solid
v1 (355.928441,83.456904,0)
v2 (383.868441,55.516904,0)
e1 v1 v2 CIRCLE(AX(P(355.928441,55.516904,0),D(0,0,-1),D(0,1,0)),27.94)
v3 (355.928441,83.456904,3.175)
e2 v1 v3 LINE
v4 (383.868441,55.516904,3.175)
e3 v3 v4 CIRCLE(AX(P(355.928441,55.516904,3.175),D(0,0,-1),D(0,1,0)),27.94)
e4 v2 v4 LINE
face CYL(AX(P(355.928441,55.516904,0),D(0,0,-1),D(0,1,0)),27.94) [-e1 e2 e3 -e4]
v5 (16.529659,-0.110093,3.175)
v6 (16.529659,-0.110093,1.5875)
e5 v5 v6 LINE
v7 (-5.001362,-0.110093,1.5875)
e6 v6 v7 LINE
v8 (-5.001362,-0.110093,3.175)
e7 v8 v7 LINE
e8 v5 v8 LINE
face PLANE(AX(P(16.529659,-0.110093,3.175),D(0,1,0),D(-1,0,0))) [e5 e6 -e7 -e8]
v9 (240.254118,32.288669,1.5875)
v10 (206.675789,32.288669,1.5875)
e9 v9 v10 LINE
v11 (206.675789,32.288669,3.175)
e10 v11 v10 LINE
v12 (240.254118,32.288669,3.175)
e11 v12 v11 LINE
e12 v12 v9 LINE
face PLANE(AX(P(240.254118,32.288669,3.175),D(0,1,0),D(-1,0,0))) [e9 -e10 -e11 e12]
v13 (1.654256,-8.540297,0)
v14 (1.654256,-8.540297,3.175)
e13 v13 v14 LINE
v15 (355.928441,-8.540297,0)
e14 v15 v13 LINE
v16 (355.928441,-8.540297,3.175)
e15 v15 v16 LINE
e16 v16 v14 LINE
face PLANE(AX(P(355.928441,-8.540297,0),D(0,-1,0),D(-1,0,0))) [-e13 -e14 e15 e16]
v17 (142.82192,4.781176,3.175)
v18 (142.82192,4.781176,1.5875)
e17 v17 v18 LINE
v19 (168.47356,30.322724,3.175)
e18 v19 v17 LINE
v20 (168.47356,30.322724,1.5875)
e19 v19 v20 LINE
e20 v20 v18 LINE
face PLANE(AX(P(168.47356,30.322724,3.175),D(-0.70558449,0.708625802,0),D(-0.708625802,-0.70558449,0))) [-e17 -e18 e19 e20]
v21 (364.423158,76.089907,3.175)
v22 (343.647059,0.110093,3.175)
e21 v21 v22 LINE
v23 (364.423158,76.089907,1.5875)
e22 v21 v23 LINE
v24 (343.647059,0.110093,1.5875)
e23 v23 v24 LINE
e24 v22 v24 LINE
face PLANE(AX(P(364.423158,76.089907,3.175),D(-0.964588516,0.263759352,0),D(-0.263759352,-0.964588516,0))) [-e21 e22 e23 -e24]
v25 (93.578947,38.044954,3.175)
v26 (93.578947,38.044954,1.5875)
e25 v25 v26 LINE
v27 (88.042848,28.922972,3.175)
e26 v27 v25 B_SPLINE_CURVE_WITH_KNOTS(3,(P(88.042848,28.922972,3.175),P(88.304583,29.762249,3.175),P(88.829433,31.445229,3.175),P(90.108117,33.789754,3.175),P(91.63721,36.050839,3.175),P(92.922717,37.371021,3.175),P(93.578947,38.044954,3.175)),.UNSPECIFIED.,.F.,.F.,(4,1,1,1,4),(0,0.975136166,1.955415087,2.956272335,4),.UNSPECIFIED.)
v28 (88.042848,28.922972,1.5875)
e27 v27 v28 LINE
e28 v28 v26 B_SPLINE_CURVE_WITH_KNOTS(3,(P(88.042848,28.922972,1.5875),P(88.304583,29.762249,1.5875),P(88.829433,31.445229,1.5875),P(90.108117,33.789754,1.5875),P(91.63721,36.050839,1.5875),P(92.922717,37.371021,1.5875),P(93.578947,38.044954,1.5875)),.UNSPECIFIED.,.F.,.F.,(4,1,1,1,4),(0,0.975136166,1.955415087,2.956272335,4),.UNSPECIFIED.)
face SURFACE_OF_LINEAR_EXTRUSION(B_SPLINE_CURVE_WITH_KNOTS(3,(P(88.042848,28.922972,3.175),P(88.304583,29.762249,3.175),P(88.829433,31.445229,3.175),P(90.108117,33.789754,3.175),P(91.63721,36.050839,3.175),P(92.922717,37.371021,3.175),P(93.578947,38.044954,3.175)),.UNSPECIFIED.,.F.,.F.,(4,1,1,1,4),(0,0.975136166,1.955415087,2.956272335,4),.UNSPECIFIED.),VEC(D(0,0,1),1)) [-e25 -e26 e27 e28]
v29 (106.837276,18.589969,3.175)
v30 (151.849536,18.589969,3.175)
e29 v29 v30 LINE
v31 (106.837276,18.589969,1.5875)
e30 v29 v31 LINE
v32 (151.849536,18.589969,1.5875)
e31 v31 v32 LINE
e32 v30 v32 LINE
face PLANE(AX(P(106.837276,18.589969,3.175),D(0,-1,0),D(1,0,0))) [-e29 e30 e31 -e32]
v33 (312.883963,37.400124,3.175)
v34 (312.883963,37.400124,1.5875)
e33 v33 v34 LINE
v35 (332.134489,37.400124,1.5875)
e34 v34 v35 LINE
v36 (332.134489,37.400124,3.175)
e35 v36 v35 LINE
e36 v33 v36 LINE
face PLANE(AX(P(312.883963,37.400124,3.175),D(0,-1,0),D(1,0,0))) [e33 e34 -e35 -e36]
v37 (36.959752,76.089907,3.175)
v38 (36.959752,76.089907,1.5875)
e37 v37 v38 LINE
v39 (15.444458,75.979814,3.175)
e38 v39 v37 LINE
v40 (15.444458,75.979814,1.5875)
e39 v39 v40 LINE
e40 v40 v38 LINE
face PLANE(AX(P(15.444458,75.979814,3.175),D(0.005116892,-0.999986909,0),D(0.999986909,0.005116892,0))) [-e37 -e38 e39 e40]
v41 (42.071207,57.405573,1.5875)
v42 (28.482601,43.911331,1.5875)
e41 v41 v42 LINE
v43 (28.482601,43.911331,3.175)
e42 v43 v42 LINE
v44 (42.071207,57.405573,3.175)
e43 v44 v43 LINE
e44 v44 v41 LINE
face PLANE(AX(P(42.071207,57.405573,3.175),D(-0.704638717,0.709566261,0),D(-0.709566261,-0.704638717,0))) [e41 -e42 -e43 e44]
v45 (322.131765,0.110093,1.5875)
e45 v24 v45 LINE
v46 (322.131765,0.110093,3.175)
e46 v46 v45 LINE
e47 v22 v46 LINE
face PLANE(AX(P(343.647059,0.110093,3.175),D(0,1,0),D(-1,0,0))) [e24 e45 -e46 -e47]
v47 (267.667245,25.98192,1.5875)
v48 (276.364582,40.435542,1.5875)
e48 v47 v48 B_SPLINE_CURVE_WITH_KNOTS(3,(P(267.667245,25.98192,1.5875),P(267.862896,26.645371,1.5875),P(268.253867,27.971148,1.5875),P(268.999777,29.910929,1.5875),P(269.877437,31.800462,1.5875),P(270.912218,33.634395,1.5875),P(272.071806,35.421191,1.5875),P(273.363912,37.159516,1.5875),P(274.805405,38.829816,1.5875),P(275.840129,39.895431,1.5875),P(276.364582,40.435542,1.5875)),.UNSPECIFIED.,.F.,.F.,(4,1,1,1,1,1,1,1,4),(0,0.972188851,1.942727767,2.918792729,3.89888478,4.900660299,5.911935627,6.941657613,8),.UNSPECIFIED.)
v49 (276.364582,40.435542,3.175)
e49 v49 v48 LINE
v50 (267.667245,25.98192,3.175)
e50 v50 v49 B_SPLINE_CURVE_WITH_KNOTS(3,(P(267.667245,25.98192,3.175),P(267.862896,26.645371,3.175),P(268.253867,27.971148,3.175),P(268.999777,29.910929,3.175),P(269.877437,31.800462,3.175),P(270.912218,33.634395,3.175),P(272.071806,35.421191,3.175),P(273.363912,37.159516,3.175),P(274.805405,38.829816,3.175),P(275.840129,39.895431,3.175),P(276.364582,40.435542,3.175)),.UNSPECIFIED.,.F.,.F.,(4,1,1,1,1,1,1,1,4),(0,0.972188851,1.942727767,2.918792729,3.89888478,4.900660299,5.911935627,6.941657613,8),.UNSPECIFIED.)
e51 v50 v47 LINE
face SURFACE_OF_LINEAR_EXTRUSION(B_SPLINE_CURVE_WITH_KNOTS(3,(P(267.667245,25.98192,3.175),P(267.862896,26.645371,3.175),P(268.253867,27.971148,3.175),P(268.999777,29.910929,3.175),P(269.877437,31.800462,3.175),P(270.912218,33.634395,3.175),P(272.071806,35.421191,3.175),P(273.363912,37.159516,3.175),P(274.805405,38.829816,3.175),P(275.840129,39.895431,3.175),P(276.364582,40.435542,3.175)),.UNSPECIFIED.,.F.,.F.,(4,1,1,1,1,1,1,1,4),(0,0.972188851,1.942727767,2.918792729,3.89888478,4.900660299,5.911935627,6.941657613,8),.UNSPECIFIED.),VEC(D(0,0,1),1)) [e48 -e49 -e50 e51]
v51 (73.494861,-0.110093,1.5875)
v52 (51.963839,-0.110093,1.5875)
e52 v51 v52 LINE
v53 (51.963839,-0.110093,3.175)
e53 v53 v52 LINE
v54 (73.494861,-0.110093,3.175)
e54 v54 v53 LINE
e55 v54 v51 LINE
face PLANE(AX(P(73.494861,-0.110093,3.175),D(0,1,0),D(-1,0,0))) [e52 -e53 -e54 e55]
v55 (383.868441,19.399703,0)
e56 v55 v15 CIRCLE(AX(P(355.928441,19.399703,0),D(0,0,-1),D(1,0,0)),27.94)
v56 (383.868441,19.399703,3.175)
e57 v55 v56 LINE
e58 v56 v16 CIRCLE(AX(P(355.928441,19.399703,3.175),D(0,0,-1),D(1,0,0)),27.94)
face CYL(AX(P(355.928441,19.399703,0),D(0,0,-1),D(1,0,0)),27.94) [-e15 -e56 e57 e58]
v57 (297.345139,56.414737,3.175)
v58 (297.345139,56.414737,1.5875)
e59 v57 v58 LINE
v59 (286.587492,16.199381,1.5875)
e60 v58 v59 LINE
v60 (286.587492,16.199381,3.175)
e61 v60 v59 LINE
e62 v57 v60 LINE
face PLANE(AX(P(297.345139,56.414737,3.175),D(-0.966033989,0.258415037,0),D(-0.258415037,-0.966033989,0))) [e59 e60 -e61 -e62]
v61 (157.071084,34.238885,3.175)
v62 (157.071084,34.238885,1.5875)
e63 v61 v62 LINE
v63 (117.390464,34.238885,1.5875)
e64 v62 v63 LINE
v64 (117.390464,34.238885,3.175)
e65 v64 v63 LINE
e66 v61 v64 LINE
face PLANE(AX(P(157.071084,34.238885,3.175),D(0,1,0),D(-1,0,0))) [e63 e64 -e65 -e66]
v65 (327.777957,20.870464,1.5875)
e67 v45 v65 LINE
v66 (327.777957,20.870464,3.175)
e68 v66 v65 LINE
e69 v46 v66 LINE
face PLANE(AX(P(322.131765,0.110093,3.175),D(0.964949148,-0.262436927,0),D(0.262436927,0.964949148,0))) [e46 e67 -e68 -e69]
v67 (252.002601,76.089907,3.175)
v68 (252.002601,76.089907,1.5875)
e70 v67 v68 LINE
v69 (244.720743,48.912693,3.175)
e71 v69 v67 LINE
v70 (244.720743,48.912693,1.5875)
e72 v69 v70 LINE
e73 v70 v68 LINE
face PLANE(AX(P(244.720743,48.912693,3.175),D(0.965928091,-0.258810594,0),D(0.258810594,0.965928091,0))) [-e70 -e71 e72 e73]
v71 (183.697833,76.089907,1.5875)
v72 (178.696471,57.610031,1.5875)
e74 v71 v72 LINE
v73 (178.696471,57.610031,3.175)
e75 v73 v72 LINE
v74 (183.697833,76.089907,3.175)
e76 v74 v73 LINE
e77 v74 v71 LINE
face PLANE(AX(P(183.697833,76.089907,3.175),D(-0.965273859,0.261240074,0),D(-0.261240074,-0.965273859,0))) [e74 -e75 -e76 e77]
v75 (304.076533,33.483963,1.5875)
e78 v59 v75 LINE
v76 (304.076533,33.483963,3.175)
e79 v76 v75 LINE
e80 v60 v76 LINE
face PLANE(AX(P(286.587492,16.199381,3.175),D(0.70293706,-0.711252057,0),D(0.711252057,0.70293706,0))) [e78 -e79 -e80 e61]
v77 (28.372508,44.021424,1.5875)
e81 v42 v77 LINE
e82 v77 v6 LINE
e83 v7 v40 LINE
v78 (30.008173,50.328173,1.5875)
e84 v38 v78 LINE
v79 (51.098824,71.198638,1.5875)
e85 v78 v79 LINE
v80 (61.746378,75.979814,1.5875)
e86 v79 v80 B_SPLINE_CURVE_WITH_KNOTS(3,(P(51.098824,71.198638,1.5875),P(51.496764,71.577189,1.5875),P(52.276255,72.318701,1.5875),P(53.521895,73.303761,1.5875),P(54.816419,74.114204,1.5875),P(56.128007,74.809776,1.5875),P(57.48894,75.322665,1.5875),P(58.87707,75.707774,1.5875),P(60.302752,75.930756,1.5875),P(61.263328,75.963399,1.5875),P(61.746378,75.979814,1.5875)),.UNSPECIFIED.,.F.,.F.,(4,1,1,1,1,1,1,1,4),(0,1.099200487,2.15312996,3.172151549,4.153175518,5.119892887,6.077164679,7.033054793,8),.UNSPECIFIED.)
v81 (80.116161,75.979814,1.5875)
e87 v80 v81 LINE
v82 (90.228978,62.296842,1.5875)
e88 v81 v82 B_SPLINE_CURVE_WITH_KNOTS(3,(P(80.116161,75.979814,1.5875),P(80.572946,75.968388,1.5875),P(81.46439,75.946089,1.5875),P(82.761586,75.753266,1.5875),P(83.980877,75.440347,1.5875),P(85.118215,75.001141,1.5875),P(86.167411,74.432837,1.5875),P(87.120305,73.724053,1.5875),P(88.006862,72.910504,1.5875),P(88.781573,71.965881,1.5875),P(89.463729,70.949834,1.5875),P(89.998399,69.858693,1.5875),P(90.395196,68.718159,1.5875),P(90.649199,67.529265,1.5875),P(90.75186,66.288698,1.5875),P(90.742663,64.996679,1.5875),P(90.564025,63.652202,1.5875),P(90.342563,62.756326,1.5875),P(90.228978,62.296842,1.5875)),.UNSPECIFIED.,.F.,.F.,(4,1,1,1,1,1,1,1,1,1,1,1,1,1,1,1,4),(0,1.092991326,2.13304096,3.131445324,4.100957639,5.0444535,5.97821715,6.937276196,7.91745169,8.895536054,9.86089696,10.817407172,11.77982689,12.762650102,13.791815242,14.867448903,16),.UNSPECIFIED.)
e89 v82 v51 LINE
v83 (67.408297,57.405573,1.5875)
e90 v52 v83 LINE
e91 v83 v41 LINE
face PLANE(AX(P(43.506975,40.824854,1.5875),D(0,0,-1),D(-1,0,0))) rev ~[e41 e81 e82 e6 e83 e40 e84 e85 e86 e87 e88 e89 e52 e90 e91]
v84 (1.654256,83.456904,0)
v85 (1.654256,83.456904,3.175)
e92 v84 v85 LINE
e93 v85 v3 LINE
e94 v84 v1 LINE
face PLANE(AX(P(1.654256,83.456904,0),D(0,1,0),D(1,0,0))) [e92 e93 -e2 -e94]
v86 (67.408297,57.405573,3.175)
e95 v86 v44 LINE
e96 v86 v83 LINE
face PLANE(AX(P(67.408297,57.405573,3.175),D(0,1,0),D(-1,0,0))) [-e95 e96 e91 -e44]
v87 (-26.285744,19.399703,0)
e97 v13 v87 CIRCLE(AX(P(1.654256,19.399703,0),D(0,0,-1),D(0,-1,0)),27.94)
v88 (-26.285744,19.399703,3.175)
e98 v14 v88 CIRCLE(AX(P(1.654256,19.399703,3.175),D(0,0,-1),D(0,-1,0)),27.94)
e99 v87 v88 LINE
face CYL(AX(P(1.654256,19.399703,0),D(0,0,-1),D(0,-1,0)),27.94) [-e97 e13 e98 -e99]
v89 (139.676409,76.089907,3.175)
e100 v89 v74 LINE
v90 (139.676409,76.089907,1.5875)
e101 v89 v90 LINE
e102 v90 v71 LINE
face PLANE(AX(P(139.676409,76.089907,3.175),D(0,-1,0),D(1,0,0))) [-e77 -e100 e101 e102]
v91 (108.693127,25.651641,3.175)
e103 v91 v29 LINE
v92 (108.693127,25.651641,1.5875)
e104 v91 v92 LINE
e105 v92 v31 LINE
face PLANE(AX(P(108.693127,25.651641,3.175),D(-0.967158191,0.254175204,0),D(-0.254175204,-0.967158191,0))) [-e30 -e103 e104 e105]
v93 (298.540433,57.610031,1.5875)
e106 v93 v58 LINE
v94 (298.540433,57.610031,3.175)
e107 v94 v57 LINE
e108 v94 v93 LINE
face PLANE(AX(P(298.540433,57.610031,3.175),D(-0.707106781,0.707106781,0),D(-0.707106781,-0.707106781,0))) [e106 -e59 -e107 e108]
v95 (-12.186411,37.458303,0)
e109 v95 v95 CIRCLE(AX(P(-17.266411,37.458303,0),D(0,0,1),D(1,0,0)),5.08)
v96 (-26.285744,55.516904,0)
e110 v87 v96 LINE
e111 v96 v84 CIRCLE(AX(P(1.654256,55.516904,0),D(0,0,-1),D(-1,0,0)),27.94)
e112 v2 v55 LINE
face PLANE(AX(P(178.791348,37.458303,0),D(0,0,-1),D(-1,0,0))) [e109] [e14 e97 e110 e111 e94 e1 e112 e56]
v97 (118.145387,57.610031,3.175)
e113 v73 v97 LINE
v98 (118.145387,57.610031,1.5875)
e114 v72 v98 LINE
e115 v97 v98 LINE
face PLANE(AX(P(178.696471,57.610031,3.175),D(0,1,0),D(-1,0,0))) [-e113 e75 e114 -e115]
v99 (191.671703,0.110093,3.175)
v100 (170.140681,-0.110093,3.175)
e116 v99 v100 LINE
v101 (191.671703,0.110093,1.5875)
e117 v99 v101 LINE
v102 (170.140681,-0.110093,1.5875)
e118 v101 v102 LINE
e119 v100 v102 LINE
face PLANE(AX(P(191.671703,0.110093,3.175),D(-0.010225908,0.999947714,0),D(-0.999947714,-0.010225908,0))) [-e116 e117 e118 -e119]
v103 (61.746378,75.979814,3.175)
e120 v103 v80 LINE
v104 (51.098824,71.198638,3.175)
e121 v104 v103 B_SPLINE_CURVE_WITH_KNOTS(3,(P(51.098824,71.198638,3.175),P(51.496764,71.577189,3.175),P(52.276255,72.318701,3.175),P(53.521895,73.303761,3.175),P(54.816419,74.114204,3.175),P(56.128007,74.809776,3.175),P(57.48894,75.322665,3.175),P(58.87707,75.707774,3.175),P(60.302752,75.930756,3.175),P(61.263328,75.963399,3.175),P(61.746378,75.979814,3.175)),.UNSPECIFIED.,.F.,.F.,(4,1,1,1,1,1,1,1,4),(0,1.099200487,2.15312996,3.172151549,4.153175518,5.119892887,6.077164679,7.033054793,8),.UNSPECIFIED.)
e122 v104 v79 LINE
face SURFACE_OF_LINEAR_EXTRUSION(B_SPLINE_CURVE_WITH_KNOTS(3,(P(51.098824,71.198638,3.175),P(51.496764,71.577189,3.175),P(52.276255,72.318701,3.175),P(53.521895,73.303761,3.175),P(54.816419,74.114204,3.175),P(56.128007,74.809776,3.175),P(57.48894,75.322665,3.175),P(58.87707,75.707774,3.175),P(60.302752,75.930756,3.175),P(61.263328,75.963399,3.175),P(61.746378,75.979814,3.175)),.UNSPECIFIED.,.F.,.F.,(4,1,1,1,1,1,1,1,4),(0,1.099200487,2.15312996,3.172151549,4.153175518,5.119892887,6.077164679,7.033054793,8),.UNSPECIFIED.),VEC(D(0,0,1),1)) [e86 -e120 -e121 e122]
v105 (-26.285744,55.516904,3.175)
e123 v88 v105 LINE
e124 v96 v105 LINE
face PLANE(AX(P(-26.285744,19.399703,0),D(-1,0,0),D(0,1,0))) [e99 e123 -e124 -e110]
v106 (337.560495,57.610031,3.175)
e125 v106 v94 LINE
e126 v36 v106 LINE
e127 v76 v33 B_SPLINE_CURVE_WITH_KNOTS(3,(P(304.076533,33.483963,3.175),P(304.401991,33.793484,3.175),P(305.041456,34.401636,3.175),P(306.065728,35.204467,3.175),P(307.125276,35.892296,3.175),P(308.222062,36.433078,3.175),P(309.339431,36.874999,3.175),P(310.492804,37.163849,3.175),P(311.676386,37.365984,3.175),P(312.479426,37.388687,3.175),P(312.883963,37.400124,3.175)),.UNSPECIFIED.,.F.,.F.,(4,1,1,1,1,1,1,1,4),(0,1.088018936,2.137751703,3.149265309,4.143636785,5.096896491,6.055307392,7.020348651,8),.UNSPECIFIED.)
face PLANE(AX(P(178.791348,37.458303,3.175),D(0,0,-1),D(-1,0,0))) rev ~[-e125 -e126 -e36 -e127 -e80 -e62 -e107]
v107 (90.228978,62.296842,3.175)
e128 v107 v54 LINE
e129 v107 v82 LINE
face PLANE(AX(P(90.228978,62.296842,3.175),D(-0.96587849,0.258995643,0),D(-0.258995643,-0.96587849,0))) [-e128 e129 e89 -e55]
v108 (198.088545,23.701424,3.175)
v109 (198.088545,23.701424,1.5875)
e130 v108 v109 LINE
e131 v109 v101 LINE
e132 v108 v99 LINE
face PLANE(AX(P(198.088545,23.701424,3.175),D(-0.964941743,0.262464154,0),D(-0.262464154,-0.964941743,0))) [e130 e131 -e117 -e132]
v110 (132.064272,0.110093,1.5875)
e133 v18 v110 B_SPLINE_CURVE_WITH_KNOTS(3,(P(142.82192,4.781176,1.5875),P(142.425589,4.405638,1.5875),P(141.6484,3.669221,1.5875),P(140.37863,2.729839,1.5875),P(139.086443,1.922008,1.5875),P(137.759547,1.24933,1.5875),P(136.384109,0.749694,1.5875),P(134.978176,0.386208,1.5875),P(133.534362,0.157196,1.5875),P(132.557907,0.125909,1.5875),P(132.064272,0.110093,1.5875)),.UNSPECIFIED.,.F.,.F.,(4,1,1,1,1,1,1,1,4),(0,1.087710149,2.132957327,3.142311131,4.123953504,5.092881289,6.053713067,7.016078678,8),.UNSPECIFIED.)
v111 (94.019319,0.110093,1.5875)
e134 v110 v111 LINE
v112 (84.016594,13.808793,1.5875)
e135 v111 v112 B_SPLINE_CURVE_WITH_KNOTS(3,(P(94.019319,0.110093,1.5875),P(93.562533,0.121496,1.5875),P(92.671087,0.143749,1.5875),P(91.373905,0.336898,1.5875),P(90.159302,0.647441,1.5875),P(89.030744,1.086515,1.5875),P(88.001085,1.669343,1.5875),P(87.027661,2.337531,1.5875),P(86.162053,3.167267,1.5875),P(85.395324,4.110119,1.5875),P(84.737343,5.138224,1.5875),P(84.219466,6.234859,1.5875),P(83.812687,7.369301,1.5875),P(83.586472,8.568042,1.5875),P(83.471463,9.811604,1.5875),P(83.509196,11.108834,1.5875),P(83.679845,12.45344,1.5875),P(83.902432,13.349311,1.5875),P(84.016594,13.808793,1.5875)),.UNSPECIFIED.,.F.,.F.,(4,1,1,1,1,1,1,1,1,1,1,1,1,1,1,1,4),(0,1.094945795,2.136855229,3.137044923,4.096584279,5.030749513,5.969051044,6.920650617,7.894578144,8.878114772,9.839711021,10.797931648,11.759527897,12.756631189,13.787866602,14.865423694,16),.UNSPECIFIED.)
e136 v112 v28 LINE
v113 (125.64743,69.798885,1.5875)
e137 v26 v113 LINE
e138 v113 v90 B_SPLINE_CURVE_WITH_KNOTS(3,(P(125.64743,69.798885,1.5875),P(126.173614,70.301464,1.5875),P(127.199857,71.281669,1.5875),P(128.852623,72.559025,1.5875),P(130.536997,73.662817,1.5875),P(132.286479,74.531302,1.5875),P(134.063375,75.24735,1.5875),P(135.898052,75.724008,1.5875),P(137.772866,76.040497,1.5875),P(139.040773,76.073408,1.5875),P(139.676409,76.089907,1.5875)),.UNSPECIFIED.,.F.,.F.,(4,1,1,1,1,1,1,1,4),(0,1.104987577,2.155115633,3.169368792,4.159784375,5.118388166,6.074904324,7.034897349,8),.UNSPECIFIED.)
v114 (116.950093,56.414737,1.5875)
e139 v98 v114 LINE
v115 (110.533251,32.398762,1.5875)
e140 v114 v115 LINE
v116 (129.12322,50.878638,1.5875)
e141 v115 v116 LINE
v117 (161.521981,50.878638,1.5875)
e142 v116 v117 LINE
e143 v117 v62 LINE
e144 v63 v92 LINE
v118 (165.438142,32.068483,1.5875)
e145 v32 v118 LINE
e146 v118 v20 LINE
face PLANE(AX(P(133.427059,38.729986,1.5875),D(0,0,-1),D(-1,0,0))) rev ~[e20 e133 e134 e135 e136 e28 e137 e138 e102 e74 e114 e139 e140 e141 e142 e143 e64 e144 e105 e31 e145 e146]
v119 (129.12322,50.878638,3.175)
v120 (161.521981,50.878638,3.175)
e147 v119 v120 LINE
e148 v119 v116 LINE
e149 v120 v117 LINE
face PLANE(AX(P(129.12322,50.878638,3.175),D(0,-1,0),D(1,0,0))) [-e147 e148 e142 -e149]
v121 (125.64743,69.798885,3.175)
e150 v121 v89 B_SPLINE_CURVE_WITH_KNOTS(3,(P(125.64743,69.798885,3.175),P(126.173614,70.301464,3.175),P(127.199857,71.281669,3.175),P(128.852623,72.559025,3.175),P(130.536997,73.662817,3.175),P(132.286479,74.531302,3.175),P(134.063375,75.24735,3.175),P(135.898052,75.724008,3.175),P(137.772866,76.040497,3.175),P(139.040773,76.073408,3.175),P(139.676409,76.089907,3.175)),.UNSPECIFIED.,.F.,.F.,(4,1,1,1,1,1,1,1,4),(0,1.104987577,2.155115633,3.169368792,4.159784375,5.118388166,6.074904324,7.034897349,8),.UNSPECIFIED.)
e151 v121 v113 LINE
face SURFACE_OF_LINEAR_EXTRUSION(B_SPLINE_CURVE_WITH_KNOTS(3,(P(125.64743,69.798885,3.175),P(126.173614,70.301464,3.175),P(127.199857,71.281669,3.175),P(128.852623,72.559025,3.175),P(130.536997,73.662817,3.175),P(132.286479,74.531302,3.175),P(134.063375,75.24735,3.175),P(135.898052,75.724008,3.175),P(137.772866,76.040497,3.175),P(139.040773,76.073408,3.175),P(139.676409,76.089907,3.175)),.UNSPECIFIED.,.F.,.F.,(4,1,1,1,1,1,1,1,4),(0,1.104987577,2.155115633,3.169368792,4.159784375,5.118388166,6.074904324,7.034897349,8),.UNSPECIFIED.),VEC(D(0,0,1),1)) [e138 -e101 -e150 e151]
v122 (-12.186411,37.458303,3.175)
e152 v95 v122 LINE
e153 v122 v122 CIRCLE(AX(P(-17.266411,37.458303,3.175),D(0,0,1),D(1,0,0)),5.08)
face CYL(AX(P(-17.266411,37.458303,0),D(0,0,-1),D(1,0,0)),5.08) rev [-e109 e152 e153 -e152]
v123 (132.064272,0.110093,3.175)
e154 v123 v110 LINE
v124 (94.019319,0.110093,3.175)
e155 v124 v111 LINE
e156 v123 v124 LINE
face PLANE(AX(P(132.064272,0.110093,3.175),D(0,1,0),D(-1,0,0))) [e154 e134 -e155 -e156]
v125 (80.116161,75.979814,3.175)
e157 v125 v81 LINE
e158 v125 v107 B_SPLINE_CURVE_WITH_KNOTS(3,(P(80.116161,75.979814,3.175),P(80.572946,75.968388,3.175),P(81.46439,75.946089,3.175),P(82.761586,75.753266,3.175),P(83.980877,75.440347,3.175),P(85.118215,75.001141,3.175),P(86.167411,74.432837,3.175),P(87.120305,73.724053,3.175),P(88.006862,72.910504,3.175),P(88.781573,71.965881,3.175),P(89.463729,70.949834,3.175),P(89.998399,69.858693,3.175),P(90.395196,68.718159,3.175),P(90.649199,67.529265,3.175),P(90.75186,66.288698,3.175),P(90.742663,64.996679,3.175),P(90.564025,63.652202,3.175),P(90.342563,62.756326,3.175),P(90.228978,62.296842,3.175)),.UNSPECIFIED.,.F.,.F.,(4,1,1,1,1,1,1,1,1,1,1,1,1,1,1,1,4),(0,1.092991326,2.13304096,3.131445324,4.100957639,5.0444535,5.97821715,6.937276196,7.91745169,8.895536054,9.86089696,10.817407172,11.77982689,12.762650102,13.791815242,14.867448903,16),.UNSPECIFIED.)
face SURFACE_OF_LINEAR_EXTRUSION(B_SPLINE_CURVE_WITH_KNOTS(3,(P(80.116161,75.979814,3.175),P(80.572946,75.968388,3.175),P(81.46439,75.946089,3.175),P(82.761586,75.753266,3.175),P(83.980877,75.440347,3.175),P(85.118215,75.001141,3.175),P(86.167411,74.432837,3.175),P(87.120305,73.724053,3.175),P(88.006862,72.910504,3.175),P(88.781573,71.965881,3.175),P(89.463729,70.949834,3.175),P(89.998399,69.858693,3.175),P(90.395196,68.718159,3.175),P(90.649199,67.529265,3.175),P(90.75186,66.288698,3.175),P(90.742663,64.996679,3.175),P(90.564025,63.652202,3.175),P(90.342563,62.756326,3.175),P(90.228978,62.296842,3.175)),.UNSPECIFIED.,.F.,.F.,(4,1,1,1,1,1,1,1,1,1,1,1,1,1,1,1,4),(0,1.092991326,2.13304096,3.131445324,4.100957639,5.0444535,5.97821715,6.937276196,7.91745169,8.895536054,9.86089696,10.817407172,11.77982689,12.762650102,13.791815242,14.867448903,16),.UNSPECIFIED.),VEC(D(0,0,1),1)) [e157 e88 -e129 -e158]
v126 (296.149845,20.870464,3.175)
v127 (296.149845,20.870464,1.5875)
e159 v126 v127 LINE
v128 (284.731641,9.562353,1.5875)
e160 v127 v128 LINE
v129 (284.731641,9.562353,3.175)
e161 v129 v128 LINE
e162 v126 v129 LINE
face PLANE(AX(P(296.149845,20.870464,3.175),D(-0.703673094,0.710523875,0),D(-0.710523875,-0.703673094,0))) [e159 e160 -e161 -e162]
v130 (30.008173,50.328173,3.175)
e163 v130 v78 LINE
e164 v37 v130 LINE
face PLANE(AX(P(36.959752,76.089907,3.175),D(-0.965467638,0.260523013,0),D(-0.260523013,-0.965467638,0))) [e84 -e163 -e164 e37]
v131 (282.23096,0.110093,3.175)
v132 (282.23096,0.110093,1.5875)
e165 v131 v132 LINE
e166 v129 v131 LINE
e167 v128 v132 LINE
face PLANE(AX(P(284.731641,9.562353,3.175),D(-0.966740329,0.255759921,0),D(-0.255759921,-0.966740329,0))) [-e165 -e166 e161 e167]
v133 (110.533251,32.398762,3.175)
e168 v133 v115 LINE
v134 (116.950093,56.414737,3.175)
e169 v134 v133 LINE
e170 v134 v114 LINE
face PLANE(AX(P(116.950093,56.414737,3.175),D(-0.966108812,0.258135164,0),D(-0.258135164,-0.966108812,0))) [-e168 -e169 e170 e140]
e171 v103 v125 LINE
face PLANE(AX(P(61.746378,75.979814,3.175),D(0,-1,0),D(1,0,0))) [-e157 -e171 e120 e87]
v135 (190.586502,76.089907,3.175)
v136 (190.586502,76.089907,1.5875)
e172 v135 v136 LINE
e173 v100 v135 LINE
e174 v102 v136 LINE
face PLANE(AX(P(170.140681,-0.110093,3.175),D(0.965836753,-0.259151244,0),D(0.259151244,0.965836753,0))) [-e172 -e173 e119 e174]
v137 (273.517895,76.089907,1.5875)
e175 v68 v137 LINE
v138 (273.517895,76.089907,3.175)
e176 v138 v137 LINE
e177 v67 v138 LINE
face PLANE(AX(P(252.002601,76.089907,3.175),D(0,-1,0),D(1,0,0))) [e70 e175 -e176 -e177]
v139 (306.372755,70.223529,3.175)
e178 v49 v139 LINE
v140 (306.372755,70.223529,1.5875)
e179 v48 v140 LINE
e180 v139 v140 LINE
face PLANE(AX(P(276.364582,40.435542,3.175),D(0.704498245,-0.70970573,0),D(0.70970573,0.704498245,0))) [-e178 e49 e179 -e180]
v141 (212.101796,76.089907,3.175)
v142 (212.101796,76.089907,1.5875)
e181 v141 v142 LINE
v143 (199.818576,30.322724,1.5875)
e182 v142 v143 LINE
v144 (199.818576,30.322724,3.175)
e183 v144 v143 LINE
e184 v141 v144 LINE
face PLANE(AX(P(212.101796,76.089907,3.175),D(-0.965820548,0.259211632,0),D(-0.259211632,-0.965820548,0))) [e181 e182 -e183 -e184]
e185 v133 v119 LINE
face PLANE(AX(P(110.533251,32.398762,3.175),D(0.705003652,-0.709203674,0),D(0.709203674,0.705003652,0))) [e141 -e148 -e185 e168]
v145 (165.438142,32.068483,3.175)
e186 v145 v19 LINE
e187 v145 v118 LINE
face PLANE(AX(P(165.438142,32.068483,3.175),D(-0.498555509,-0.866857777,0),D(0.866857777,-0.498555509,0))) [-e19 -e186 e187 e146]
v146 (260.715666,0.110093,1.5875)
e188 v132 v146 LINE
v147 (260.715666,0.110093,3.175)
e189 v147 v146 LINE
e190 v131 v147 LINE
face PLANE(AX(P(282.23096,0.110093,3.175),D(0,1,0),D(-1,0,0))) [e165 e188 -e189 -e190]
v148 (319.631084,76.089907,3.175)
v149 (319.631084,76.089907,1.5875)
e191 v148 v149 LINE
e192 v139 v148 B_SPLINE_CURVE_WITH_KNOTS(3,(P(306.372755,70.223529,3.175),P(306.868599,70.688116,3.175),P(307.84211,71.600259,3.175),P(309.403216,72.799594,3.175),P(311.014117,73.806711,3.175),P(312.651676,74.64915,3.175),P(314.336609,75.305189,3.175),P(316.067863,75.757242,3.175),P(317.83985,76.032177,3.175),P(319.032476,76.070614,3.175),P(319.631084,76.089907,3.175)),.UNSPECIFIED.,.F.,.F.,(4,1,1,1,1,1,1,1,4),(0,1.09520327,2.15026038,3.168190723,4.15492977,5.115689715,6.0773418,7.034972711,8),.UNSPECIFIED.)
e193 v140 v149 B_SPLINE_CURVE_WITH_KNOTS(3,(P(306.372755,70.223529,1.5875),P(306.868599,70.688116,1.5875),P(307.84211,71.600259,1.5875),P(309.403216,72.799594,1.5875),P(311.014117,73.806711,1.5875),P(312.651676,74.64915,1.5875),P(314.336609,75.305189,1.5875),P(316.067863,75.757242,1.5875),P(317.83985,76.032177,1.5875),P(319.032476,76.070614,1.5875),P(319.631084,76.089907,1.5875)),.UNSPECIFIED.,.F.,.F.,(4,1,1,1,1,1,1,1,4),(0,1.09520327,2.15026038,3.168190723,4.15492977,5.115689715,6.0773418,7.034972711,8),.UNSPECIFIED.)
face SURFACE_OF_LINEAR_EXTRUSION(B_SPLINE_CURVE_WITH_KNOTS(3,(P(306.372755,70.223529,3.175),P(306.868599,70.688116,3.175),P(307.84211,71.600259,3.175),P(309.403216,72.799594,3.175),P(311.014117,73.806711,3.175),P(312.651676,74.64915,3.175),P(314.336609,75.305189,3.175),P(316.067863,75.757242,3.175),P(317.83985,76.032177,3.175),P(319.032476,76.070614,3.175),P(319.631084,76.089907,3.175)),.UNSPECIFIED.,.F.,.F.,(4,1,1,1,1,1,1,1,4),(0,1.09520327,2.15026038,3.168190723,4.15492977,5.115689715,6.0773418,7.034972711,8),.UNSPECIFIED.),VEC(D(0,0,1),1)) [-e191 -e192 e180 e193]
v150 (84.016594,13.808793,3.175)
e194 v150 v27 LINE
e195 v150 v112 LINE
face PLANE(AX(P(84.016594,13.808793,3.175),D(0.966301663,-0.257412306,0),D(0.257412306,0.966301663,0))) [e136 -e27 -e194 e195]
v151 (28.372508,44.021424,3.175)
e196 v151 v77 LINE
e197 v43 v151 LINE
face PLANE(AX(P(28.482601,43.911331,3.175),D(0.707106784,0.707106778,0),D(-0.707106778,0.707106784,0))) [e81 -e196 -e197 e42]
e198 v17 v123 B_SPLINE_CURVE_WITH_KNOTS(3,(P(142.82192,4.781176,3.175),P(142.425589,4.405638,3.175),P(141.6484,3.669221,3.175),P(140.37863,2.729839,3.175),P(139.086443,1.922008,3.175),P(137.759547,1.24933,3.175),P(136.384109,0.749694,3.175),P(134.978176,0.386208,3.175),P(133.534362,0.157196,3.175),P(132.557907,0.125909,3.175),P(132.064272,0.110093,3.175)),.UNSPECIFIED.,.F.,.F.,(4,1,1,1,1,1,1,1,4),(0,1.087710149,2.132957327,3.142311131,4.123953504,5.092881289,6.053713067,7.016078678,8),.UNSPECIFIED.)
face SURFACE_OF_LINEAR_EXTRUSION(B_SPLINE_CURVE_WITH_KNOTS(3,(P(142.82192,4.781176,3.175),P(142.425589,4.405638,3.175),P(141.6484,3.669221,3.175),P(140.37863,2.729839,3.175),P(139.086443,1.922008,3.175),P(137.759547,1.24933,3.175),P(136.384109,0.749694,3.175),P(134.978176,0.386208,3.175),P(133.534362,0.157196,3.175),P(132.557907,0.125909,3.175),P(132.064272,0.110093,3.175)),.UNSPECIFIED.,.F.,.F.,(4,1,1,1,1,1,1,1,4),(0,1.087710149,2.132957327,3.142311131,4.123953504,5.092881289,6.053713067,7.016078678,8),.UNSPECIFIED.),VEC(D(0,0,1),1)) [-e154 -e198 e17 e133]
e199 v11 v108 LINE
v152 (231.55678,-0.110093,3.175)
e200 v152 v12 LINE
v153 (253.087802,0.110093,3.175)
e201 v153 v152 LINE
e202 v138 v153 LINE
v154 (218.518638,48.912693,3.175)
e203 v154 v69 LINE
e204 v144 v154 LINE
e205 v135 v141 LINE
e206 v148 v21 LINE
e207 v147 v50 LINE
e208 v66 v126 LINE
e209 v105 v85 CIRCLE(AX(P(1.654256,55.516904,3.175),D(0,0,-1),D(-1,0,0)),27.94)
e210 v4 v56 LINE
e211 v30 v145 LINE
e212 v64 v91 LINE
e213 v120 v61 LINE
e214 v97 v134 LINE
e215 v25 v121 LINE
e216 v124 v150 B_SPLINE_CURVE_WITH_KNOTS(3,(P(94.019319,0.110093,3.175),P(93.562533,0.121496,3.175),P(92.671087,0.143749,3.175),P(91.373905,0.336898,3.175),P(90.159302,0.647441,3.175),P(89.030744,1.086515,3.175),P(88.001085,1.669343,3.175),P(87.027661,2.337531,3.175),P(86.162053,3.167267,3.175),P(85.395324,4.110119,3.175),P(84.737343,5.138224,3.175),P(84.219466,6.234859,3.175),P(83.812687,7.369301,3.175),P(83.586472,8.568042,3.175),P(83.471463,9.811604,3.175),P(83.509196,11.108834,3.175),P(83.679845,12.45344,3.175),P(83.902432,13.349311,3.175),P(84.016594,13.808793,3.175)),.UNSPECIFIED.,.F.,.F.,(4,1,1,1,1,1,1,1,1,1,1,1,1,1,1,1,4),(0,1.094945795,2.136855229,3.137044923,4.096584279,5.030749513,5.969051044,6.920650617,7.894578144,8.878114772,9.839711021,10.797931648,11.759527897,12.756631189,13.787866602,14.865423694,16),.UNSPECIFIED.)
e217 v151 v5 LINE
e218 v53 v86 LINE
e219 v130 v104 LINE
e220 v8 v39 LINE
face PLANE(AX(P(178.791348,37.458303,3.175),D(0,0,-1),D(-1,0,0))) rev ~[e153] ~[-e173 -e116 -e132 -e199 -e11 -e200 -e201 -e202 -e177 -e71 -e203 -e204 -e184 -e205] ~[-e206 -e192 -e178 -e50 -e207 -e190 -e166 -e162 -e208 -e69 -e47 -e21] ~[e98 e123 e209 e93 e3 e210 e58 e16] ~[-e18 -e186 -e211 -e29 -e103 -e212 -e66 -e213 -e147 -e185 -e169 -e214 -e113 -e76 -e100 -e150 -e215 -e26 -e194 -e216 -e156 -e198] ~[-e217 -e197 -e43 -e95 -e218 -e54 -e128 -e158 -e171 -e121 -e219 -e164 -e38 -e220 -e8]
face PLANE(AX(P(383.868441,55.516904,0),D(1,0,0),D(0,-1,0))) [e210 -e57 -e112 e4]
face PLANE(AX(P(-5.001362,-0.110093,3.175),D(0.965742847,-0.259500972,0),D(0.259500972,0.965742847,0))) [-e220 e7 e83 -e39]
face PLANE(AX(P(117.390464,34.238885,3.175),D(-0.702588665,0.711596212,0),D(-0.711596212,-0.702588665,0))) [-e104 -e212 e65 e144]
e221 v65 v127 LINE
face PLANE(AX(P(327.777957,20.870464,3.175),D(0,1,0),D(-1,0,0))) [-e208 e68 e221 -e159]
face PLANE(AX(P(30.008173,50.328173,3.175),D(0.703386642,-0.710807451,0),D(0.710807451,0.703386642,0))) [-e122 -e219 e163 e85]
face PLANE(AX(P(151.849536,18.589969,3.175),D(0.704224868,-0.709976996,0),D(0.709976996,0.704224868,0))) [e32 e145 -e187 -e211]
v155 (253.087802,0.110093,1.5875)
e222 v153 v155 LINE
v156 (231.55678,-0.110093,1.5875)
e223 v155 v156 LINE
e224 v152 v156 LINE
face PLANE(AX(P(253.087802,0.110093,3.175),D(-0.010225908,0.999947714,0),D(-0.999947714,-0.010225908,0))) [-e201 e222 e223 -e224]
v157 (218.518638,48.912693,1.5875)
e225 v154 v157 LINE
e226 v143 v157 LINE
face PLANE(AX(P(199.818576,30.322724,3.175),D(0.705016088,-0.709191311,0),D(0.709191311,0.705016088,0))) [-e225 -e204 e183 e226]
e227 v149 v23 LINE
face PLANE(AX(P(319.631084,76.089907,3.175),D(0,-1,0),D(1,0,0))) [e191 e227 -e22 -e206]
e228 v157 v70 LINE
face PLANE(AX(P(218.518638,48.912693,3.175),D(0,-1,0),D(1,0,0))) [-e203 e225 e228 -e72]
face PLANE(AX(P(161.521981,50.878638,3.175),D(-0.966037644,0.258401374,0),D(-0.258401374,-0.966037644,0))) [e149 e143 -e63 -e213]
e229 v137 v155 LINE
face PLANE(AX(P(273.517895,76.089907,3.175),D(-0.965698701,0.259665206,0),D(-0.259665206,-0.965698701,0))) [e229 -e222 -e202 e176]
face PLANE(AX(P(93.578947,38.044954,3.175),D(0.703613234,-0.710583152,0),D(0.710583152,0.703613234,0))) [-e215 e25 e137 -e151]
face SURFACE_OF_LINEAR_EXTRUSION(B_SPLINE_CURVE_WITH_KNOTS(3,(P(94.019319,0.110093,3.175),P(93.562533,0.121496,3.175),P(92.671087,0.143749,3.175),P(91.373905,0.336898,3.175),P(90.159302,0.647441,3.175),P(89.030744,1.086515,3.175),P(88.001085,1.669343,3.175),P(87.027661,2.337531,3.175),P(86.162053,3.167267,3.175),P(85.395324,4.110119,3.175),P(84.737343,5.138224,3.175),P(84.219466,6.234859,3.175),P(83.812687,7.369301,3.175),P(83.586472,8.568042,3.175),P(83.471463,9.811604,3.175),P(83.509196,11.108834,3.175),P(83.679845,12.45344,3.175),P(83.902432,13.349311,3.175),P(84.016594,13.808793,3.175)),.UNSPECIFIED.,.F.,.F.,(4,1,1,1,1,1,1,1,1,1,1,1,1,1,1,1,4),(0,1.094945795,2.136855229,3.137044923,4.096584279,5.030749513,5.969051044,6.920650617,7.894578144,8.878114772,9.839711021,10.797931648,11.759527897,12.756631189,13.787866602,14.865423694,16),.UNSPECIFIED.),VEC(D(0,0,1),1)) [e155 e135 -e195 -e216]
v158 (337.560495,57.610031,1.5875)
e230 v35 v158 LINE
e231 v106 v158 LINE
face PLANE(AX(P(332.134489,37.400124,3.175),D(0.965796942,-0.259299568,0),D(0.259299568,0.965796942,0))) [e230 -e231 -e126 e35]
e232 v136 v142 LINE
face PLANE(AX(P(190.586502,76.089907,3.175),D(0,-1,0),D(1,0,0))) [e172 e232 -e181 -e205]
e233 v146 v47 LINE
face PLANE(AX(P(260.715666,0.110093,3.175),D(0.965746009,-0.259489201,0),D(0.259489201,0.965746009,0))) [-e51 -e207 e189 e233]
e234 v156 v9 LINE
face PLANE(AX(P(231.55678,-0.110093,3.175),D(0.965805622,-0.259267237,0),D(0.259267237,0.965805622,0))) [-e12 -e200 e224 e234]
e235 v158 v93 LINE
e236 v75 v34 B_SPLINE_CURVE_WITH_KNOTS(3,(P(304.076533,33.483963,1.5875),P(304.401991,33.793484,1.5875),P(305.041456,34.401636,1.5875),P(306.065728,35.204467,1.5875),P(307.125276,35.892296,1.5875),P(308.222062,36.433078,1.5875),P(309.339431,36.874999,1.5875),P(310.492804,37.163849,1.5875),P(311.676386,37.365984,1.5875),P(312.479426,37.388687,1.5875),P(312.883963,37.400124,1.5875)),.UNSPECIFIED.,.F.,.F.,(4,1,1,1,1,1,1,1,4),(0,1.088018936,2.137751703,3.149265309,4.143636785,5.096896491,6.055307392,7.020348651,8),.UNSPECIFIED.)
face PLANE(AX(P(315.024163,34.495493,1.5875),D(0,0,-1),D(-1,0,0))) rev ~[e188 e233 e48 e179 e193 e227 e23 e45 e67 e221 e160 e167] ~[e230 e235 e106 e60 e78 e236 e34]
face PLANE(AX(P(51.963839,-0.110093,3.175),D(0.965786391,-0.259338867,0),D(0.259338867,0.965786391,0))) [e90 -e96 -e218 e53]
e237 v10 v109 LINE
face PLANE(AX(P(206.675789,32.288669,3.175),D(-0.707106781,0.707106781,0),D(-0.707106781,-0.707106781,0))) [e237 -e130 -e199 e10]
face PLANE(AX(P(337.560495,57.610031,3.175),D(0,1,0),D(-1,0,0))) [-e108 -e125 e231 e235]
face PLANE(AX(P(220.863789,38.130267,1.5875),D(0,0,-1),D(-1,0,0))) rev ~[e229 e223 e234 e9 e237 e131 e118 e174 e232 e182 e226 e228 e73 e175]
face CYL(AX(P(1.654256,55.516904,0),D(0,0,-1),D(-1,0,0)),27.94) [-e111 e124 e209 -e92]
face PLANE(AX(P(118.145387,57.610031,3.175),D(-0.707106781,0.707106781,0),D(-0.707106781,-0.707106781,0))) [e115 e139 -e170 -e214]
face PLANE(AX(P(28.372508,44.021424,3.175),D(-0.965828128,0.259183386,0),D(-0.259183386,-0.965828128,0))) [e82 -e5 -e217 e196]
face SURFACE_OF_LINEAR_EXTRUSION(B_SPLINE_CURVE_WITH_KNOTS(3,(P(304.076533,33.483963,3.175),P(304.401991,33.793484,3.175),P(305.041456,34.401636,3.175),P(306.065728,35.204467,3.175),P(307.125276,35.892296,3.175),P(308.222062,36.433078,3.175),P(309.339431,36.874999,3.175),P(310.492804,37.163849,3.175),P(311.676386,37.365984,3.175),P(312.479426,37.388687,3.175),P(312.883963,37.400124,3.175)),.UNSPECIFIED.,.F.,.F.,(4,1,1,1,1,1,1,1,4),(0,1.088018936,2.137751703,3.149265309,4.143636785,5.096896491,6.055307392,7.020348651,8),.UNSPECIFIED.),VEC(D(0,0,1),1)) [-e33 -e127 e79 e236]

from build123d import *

# Parameters (mm, degrees)
SKETCH1_R           = 5.08
BOSS_EXTRUDE1_DEPTH = 3.175
CUT_EXTRUDE1_DEPTH  = 1.5875


with BuildPart() as part:
    # Sketch1 → Boss-Extrude1 (new body)
    with BuildSketch(Plane.XY):
        with BuildLine():
            Line((1.654255886, 83.456903623), (355.928440518, 83.456903623))
            ThreePointArc((355.928440518, 83.456903623), (375.685003985, 75.273467089), (383.868440518, 55.516903623))
            Line((383.868440518, 55.516903623), (383.868440518, 19.399703332))
            ThreePointArc((383.868440518, 19.399703332), (375.685003985, -0.356860135), (355.928440518, -8.540296668))
            Line((355.928440518, -8.540296668), (1.654255886, -8.540296668))
            ThreePointArc((1.654255886, -8.540296668), (-18.10230758, -0.356860135), (-26.285744114, 19.399703332))
            Line((-26.285744114, 19.399703332), (-26.285744114, 55.516903623))
            ThreePointArc((-26.285744114, 55.516903623), (-18.10230758, 75.273467089), (1.654255886, 83.456903623))
        make_face()
        with Locations((-17.266410752, 37.458303477)):
            Circle(SKETCH1_R, mode=Mode.SUBTRACT)
    extrude(amount=BOSS_EXTRUDE1_DEPTH)

    # Sketch2 → Cut-Extrude1 (cut)
    # profile 1 of 4: a face of its own
    with BuildSketch(Plane.XY.offset(3.175)):
        with BuildLine():
            add(Edge.make_bspline(
                [(80.116160991, 75.979814241), (80.572945846, 75.96838805), (81.464390071, 75.946089122), (82.761585994, 75.753265531), (83.980876738, 75.440347312), (85.118214528, 75.001140575), (86.167411339, 74.432836909), (87.120305277, 73.724053119), (88.006862222, 72.910504162), (88.781572714, 71.965880548), (89.463729353, 70.949833691), (89.998399018, 69.858693237), (90.395196355, 68.718158749), (90.649199151, 67.529264566), (90.751859695, 66.288698388), (90.742663347, 64.996679474), (90.564024557, 63.652201513), (90.342563176, 62.756325839), (90.228978328, 62.296842105)],
                knots=[0, 0, 0, 0, 1.092991326, 2.13304096, 3.131445324, 4.100957639, 5.0444535, 5.97821715, 6.937276196, 7.91745169, 8.895536054, 9.86089696, 10.817407172, 11.77982689, 12.762650102, 13.791815242, 14.867448903, 16, 16, 16, 16], degree=3))
            Line((90.228978328, 62.296842105), (73.494860681, -0.110092879))
            Line((73.494860681, -0.110092879), (51.963839009, -0.110092879))
            Line((51.963839009, -0.110092879), (67.408297214, 57.405572755))
            Line((67.408297214, 57.405572755), (42.07120743, 57.405572755))
            Line((42.07120743, 57.405572755), (28.482600619, 43.911331269))
            Line((28.482600619, 43.911331269), (28.37250774, 44.021424149))
            Line((28.37250774, 44.021424149), (16.529659443, -0.110092879))
            Line((16.529659443, -0.110092879), (-5.001362229, -0.110092879))
            Line((-5.001362229, -0.110092879), (15.444458204, 75.979814241))
            Line((15.444458204, 75.979814241), (36.959752322, 76.089907121))
            Line((36.959752322, 76.089907121), (30.008173375, 50.328173375))
            Line((30.008173375, 50.328173375), (51.098823529, 71.198637771))
            add(Edge.make_bspline(
                [(51.098823529, 71.198637771), (51.496763688, 71.577188987), (52.27625468, 72.318700635), (53.521895338, 73.303761259), (54.816419285, 74.114204336), (56.128007139, 74.809775832), (57.488939848, 75.322665393), (58.877070061, 75.707773792), (60.302751754, 75.930755526), (61.263328154, 75.963398777), (61.746377709, 75.979814241)],
                knots=[0, 0, 0, 0, 1.099200487, 2.15312996, 3.172151549, 4.153175518, 5.119892887, 6.077164679, 7.033054793, 8, 8, 8, 8], degree=3))
            Line((61.746377709, 75.979814241), (80.116160991, 75.979814241))
        make_face()
    # profile 2 of 4: a face of its own
    with BuildSketch(Plane.XY.offset(3.175)):
        with BuildLine():
            Line((118.145386997, 57.61003096), (116.950092879, 56.414736842))
            Line((116.950092879, 56.414736842), (110.533250774, 32.39876161))
            Line((110.533250774, 32.39876161), (129.123219814, 50.878637771))
            Line((129.123219814, 50.878637771), (161.521981424, 50.878637771))
            Line((161.521981424, 50.878637771), (157.071083591, 34.238885449))
            Line((157.071083591, 34.238885449), (117.390464396, 34.238885449))
            Line((117.390464396, 34.238885449), (108.693126935, 25.651640867))
            Line((108.693126935, 25.651640867), (106.837275542, 18.58996904))
            Line((106.837275542, 18.58996904), (151.849535604, 18.58996904))
            Line((151.849535604, 18.58996904), (165.438142415, 32.068482972))
            Line((165.438142415, 32.068482972), (168.473560372, 30.322724458))
            Line((168.473560372, 30.322724458), (142.821919505, 4.781176471))
            add(Edge.make_bspline(
                [(142.821919505, 4.781176471), (142.42558897, 4.40563779), (141.648400195, 3.669221032), (140.378629909, 2.72983858), (139.086443259, 1.922007685), (137.759547175, 1.249330178), (136.38410853, 0.749693532), (134.97817596, 0.386207664), (133.534361605, 0.157196007), (132.557907008, 0.125909425), (132.064272446, 0.110092879)],
                knots=[0, 0, 0, 0, 1.087710149, 2.132957327, 3.142311131, 4.123953504, 5.092881289, 6.053713067, 7.016078678, 8, 8, 8, 8], degree=3))
            Line((132.064272446, 0.110092879), (94.019318885, 0.110092879))
            add(Edge.make_bspline(
                [(94.019318885, 0.110092879), (93.562533058, 0.121495697), (92.671086936, 0.143749009), (91.373904534, 0.336897705), (90.159302422, 0.647440779), (89.030743975, 1.086514673), (88.001085474, 1.669343073), (87.027661194, 2.337531495), (86.162052775, 3.167267257), (85.395324382, 4.11011912), (84.737343068, 5.138224272), (84.219465728, 6.234858978), (83.812687134, 7.369301457), (83.586471856, 8.568042434), (83.471463009, 9.811604079), (83.509196493, 11.108834081), (83.679845331, 12.453440135), (83.902432286, 13.3493112), (84.016594427, 13.80879257)],
                knots=[0, 0, 0, 0, 1.094945795, 2.136855229, 3.137044923, 4.096584279, 5.030749513, 5.969051044, 6.920650617, 7.894578144, 8.878114772, 9.839711021, 10.797931648, 11.759527897, 12.756631189, 13.787866602, 14.865423694, 16, 16, 16, 16], degree=3))
            Line((84.016594427, 13.80879257), (88.042848297, 28.922972136))
            add(Edge.make_bspline(
                [(88.042848297, 28.922972136), (88.304583021, 29.762249011), (88.829432829, 31.445229009), (90.10811721, 33.789754209), (91.637210285, 36.050838621), (92.922716932, 37.371021477), (93.578947368, 38.04495356)],
                knots=[0, 0, 0, 0, 0.975136166, 1.955415087, 2.956272335, 4, 4, 4, 4], degree=3))
            Line((93.578947368, 38.04495356), (125.647430341, 69.798885449))
            add(Edge.make_bspline(
                [(125.647430341, 69.798885449), (126.173613681, 70.301463912), (127.199856843, 71.281669234), (128.852623455, 72.559024637), (130.536996878, 73.662817435), (132.286478981, 74.531301715), (134.063374504, 75.247349918), (135.898052148, 75.724007994), (137.772865678, 76.040497331), (139.040772571, 76.073408073), (139.676408669, 76.089907121)],
                knots=[0, 0, 0, 0, 1.104987577, 2.155115633, 3.169368792, 4.159784375, 5.118388166, 6.074904324, 7.034897349, 8, 8, 8, 8], degree=3))
            Line((139.676408669, 76.089907121), (183.697832817, 76.089907121))
            Line((183.697832817, 76.089907121), (178.696470588, 57.61003096))
            Line((178.696470588, 57.61003096), (118.145386997, 57.61003096))
        make_face()
    # profile 3 of 4: a face of its own
    with BuildSketch(Plane.XY.offset(3.175)):
        Polygon((252.002600619, 76.089907121), (273.517894737, 76.089907121), (253.087801858, 0.110092879), (231.556780186, -0.110092879), (240.254117647, 32.288668731), (206.675789474, 32.288668731), (198.088544892, 23.701424149), (191.671702786, 0.110092879), (170.140681115, -0.110092879), (190.586501548, 76.089907121), (212.101795666, 76.089907121), (199.818575851, 30.322724458), (218.518637771, 48.912693498), (244.720743034, 48.912693498), align=None)
    # profile 4 of 4: a face of its own
    with BuildSketch(Plane.XY.offset(3.175)):
        with BuildLine():
            Line((319.631083591, 76.089907121), (364.423157895, 76.089907121))
            Line((364.423157895, 76.089907121), (343.647058824, 0.110092879))
            Line((343.647058824, 0.110092879), (322.131764706, 0.110092879))
            Line((322.131764706, 0.110092879), (327.777956656, 20.870464396))
            Line((327.777956656, 20.870464396), (296.149845201, 20.870464396))
            Line((296.149845201, 20.870464396), (284.731640867, 9.562352941))
            Line((284.731640867, 9.562352941), (282.230959752, 0.110092879))
            Line((282.230959752, 0.110092879), (260.715665635, 0.110092879))
            Line((260.715665635, 0.110092879), (267.667244582, 25.981919505))
            add(Edge.make_bspline(
                [(267.667244582, 25.981919505), (267.86289602, 26.645371072), (268.253866848, 27.971148241), (268.999777356, 29.910929371), (269.877436893, 31.800461991), (270.912218434, 33.634395292), (272.071806246, 35.421190898), (273.36391227, 37.159516171), (274.805405218, 38.829815678), (275.840128897, 39.895431078), (276.364582043, 40.435541796)],
                knots=[0, 0, 0, 0, 0.972188851, 1.942727767, 2.918792729, 3.89888478, 4.900660299, 5.911935627, 6.941657613, 8, 8, 8, 8], degree=3))
            Line((276.364582043, 40.435541796), (306.372755418, 70.223529412))
            add(Edge.make_bspline(
                [(306.372755418, 70.223529412), (306.868599043, 70.68811599), (307.842110474, 71.600259095), (309.403215924, 72.799594193), (311.01411719, 73.806711452), (312.651676458, 74.649150324), (314.336608539, 75.305189439), (316.067863306, 75.757242357), (317.839849704, 76.032176586), (319.032476302, 76.07061432), (319.631083591, 76.089907121)],
                knots=[0, 0, 0, 0, 1.09520327, 2.15026038, 3.168190723, 4.15492977, 5.115689715, 6.0773418, 7.034972711, 8, 8, 8, 8], degree=3))
        make_face()
        with BuildLine():
            Line((332.134489164, 37.400123839), (337.560495356, 57.61003096))
            Line((337.560495356, 57.61003096), (298.540433437, 57.61003096))
            Line((298.540433437, 57.61003096), (297.345139319, 56.414736842))
            Line((297.345139319, 56.414736842), (286.58749226, 16.199380805))
            Line((286.58749226, 16.199380805), (304.076532508, 33.483962848))
            add(Edge.make_bspline(
                [(304.076532508, 33.483962848), (304.401991303, 33.793484328), (305.041456362, 34.401635574), (306.065728499, 35.204466573), (307.125276195, 35.892296283), (308.222062479, 36.433077589), (309.339430868, 36.874999281), (310.492804301, 37.163848907), (311.676386408, 37.365984392), (312.479426341, 37.388687169), (312.883962848, 37.400123839)],
                knots=[0, 0, 0, 0, 1.088018936, 2.137751703, 3.149265309, 4.143636785, 5.096896491, 6.055307392, 7.020348651, 8, 8, 8, 8], degree=3))
            Line((312.883962848, 37.400123839), (332.134489164, 37.400123839))
        make_face(mode=Mode.SUBTRACT)
    extrude(amount=-CUT_EXTRUDE1_DEPTH, mode=Mode.SUBTRACT)


solid = part.part
